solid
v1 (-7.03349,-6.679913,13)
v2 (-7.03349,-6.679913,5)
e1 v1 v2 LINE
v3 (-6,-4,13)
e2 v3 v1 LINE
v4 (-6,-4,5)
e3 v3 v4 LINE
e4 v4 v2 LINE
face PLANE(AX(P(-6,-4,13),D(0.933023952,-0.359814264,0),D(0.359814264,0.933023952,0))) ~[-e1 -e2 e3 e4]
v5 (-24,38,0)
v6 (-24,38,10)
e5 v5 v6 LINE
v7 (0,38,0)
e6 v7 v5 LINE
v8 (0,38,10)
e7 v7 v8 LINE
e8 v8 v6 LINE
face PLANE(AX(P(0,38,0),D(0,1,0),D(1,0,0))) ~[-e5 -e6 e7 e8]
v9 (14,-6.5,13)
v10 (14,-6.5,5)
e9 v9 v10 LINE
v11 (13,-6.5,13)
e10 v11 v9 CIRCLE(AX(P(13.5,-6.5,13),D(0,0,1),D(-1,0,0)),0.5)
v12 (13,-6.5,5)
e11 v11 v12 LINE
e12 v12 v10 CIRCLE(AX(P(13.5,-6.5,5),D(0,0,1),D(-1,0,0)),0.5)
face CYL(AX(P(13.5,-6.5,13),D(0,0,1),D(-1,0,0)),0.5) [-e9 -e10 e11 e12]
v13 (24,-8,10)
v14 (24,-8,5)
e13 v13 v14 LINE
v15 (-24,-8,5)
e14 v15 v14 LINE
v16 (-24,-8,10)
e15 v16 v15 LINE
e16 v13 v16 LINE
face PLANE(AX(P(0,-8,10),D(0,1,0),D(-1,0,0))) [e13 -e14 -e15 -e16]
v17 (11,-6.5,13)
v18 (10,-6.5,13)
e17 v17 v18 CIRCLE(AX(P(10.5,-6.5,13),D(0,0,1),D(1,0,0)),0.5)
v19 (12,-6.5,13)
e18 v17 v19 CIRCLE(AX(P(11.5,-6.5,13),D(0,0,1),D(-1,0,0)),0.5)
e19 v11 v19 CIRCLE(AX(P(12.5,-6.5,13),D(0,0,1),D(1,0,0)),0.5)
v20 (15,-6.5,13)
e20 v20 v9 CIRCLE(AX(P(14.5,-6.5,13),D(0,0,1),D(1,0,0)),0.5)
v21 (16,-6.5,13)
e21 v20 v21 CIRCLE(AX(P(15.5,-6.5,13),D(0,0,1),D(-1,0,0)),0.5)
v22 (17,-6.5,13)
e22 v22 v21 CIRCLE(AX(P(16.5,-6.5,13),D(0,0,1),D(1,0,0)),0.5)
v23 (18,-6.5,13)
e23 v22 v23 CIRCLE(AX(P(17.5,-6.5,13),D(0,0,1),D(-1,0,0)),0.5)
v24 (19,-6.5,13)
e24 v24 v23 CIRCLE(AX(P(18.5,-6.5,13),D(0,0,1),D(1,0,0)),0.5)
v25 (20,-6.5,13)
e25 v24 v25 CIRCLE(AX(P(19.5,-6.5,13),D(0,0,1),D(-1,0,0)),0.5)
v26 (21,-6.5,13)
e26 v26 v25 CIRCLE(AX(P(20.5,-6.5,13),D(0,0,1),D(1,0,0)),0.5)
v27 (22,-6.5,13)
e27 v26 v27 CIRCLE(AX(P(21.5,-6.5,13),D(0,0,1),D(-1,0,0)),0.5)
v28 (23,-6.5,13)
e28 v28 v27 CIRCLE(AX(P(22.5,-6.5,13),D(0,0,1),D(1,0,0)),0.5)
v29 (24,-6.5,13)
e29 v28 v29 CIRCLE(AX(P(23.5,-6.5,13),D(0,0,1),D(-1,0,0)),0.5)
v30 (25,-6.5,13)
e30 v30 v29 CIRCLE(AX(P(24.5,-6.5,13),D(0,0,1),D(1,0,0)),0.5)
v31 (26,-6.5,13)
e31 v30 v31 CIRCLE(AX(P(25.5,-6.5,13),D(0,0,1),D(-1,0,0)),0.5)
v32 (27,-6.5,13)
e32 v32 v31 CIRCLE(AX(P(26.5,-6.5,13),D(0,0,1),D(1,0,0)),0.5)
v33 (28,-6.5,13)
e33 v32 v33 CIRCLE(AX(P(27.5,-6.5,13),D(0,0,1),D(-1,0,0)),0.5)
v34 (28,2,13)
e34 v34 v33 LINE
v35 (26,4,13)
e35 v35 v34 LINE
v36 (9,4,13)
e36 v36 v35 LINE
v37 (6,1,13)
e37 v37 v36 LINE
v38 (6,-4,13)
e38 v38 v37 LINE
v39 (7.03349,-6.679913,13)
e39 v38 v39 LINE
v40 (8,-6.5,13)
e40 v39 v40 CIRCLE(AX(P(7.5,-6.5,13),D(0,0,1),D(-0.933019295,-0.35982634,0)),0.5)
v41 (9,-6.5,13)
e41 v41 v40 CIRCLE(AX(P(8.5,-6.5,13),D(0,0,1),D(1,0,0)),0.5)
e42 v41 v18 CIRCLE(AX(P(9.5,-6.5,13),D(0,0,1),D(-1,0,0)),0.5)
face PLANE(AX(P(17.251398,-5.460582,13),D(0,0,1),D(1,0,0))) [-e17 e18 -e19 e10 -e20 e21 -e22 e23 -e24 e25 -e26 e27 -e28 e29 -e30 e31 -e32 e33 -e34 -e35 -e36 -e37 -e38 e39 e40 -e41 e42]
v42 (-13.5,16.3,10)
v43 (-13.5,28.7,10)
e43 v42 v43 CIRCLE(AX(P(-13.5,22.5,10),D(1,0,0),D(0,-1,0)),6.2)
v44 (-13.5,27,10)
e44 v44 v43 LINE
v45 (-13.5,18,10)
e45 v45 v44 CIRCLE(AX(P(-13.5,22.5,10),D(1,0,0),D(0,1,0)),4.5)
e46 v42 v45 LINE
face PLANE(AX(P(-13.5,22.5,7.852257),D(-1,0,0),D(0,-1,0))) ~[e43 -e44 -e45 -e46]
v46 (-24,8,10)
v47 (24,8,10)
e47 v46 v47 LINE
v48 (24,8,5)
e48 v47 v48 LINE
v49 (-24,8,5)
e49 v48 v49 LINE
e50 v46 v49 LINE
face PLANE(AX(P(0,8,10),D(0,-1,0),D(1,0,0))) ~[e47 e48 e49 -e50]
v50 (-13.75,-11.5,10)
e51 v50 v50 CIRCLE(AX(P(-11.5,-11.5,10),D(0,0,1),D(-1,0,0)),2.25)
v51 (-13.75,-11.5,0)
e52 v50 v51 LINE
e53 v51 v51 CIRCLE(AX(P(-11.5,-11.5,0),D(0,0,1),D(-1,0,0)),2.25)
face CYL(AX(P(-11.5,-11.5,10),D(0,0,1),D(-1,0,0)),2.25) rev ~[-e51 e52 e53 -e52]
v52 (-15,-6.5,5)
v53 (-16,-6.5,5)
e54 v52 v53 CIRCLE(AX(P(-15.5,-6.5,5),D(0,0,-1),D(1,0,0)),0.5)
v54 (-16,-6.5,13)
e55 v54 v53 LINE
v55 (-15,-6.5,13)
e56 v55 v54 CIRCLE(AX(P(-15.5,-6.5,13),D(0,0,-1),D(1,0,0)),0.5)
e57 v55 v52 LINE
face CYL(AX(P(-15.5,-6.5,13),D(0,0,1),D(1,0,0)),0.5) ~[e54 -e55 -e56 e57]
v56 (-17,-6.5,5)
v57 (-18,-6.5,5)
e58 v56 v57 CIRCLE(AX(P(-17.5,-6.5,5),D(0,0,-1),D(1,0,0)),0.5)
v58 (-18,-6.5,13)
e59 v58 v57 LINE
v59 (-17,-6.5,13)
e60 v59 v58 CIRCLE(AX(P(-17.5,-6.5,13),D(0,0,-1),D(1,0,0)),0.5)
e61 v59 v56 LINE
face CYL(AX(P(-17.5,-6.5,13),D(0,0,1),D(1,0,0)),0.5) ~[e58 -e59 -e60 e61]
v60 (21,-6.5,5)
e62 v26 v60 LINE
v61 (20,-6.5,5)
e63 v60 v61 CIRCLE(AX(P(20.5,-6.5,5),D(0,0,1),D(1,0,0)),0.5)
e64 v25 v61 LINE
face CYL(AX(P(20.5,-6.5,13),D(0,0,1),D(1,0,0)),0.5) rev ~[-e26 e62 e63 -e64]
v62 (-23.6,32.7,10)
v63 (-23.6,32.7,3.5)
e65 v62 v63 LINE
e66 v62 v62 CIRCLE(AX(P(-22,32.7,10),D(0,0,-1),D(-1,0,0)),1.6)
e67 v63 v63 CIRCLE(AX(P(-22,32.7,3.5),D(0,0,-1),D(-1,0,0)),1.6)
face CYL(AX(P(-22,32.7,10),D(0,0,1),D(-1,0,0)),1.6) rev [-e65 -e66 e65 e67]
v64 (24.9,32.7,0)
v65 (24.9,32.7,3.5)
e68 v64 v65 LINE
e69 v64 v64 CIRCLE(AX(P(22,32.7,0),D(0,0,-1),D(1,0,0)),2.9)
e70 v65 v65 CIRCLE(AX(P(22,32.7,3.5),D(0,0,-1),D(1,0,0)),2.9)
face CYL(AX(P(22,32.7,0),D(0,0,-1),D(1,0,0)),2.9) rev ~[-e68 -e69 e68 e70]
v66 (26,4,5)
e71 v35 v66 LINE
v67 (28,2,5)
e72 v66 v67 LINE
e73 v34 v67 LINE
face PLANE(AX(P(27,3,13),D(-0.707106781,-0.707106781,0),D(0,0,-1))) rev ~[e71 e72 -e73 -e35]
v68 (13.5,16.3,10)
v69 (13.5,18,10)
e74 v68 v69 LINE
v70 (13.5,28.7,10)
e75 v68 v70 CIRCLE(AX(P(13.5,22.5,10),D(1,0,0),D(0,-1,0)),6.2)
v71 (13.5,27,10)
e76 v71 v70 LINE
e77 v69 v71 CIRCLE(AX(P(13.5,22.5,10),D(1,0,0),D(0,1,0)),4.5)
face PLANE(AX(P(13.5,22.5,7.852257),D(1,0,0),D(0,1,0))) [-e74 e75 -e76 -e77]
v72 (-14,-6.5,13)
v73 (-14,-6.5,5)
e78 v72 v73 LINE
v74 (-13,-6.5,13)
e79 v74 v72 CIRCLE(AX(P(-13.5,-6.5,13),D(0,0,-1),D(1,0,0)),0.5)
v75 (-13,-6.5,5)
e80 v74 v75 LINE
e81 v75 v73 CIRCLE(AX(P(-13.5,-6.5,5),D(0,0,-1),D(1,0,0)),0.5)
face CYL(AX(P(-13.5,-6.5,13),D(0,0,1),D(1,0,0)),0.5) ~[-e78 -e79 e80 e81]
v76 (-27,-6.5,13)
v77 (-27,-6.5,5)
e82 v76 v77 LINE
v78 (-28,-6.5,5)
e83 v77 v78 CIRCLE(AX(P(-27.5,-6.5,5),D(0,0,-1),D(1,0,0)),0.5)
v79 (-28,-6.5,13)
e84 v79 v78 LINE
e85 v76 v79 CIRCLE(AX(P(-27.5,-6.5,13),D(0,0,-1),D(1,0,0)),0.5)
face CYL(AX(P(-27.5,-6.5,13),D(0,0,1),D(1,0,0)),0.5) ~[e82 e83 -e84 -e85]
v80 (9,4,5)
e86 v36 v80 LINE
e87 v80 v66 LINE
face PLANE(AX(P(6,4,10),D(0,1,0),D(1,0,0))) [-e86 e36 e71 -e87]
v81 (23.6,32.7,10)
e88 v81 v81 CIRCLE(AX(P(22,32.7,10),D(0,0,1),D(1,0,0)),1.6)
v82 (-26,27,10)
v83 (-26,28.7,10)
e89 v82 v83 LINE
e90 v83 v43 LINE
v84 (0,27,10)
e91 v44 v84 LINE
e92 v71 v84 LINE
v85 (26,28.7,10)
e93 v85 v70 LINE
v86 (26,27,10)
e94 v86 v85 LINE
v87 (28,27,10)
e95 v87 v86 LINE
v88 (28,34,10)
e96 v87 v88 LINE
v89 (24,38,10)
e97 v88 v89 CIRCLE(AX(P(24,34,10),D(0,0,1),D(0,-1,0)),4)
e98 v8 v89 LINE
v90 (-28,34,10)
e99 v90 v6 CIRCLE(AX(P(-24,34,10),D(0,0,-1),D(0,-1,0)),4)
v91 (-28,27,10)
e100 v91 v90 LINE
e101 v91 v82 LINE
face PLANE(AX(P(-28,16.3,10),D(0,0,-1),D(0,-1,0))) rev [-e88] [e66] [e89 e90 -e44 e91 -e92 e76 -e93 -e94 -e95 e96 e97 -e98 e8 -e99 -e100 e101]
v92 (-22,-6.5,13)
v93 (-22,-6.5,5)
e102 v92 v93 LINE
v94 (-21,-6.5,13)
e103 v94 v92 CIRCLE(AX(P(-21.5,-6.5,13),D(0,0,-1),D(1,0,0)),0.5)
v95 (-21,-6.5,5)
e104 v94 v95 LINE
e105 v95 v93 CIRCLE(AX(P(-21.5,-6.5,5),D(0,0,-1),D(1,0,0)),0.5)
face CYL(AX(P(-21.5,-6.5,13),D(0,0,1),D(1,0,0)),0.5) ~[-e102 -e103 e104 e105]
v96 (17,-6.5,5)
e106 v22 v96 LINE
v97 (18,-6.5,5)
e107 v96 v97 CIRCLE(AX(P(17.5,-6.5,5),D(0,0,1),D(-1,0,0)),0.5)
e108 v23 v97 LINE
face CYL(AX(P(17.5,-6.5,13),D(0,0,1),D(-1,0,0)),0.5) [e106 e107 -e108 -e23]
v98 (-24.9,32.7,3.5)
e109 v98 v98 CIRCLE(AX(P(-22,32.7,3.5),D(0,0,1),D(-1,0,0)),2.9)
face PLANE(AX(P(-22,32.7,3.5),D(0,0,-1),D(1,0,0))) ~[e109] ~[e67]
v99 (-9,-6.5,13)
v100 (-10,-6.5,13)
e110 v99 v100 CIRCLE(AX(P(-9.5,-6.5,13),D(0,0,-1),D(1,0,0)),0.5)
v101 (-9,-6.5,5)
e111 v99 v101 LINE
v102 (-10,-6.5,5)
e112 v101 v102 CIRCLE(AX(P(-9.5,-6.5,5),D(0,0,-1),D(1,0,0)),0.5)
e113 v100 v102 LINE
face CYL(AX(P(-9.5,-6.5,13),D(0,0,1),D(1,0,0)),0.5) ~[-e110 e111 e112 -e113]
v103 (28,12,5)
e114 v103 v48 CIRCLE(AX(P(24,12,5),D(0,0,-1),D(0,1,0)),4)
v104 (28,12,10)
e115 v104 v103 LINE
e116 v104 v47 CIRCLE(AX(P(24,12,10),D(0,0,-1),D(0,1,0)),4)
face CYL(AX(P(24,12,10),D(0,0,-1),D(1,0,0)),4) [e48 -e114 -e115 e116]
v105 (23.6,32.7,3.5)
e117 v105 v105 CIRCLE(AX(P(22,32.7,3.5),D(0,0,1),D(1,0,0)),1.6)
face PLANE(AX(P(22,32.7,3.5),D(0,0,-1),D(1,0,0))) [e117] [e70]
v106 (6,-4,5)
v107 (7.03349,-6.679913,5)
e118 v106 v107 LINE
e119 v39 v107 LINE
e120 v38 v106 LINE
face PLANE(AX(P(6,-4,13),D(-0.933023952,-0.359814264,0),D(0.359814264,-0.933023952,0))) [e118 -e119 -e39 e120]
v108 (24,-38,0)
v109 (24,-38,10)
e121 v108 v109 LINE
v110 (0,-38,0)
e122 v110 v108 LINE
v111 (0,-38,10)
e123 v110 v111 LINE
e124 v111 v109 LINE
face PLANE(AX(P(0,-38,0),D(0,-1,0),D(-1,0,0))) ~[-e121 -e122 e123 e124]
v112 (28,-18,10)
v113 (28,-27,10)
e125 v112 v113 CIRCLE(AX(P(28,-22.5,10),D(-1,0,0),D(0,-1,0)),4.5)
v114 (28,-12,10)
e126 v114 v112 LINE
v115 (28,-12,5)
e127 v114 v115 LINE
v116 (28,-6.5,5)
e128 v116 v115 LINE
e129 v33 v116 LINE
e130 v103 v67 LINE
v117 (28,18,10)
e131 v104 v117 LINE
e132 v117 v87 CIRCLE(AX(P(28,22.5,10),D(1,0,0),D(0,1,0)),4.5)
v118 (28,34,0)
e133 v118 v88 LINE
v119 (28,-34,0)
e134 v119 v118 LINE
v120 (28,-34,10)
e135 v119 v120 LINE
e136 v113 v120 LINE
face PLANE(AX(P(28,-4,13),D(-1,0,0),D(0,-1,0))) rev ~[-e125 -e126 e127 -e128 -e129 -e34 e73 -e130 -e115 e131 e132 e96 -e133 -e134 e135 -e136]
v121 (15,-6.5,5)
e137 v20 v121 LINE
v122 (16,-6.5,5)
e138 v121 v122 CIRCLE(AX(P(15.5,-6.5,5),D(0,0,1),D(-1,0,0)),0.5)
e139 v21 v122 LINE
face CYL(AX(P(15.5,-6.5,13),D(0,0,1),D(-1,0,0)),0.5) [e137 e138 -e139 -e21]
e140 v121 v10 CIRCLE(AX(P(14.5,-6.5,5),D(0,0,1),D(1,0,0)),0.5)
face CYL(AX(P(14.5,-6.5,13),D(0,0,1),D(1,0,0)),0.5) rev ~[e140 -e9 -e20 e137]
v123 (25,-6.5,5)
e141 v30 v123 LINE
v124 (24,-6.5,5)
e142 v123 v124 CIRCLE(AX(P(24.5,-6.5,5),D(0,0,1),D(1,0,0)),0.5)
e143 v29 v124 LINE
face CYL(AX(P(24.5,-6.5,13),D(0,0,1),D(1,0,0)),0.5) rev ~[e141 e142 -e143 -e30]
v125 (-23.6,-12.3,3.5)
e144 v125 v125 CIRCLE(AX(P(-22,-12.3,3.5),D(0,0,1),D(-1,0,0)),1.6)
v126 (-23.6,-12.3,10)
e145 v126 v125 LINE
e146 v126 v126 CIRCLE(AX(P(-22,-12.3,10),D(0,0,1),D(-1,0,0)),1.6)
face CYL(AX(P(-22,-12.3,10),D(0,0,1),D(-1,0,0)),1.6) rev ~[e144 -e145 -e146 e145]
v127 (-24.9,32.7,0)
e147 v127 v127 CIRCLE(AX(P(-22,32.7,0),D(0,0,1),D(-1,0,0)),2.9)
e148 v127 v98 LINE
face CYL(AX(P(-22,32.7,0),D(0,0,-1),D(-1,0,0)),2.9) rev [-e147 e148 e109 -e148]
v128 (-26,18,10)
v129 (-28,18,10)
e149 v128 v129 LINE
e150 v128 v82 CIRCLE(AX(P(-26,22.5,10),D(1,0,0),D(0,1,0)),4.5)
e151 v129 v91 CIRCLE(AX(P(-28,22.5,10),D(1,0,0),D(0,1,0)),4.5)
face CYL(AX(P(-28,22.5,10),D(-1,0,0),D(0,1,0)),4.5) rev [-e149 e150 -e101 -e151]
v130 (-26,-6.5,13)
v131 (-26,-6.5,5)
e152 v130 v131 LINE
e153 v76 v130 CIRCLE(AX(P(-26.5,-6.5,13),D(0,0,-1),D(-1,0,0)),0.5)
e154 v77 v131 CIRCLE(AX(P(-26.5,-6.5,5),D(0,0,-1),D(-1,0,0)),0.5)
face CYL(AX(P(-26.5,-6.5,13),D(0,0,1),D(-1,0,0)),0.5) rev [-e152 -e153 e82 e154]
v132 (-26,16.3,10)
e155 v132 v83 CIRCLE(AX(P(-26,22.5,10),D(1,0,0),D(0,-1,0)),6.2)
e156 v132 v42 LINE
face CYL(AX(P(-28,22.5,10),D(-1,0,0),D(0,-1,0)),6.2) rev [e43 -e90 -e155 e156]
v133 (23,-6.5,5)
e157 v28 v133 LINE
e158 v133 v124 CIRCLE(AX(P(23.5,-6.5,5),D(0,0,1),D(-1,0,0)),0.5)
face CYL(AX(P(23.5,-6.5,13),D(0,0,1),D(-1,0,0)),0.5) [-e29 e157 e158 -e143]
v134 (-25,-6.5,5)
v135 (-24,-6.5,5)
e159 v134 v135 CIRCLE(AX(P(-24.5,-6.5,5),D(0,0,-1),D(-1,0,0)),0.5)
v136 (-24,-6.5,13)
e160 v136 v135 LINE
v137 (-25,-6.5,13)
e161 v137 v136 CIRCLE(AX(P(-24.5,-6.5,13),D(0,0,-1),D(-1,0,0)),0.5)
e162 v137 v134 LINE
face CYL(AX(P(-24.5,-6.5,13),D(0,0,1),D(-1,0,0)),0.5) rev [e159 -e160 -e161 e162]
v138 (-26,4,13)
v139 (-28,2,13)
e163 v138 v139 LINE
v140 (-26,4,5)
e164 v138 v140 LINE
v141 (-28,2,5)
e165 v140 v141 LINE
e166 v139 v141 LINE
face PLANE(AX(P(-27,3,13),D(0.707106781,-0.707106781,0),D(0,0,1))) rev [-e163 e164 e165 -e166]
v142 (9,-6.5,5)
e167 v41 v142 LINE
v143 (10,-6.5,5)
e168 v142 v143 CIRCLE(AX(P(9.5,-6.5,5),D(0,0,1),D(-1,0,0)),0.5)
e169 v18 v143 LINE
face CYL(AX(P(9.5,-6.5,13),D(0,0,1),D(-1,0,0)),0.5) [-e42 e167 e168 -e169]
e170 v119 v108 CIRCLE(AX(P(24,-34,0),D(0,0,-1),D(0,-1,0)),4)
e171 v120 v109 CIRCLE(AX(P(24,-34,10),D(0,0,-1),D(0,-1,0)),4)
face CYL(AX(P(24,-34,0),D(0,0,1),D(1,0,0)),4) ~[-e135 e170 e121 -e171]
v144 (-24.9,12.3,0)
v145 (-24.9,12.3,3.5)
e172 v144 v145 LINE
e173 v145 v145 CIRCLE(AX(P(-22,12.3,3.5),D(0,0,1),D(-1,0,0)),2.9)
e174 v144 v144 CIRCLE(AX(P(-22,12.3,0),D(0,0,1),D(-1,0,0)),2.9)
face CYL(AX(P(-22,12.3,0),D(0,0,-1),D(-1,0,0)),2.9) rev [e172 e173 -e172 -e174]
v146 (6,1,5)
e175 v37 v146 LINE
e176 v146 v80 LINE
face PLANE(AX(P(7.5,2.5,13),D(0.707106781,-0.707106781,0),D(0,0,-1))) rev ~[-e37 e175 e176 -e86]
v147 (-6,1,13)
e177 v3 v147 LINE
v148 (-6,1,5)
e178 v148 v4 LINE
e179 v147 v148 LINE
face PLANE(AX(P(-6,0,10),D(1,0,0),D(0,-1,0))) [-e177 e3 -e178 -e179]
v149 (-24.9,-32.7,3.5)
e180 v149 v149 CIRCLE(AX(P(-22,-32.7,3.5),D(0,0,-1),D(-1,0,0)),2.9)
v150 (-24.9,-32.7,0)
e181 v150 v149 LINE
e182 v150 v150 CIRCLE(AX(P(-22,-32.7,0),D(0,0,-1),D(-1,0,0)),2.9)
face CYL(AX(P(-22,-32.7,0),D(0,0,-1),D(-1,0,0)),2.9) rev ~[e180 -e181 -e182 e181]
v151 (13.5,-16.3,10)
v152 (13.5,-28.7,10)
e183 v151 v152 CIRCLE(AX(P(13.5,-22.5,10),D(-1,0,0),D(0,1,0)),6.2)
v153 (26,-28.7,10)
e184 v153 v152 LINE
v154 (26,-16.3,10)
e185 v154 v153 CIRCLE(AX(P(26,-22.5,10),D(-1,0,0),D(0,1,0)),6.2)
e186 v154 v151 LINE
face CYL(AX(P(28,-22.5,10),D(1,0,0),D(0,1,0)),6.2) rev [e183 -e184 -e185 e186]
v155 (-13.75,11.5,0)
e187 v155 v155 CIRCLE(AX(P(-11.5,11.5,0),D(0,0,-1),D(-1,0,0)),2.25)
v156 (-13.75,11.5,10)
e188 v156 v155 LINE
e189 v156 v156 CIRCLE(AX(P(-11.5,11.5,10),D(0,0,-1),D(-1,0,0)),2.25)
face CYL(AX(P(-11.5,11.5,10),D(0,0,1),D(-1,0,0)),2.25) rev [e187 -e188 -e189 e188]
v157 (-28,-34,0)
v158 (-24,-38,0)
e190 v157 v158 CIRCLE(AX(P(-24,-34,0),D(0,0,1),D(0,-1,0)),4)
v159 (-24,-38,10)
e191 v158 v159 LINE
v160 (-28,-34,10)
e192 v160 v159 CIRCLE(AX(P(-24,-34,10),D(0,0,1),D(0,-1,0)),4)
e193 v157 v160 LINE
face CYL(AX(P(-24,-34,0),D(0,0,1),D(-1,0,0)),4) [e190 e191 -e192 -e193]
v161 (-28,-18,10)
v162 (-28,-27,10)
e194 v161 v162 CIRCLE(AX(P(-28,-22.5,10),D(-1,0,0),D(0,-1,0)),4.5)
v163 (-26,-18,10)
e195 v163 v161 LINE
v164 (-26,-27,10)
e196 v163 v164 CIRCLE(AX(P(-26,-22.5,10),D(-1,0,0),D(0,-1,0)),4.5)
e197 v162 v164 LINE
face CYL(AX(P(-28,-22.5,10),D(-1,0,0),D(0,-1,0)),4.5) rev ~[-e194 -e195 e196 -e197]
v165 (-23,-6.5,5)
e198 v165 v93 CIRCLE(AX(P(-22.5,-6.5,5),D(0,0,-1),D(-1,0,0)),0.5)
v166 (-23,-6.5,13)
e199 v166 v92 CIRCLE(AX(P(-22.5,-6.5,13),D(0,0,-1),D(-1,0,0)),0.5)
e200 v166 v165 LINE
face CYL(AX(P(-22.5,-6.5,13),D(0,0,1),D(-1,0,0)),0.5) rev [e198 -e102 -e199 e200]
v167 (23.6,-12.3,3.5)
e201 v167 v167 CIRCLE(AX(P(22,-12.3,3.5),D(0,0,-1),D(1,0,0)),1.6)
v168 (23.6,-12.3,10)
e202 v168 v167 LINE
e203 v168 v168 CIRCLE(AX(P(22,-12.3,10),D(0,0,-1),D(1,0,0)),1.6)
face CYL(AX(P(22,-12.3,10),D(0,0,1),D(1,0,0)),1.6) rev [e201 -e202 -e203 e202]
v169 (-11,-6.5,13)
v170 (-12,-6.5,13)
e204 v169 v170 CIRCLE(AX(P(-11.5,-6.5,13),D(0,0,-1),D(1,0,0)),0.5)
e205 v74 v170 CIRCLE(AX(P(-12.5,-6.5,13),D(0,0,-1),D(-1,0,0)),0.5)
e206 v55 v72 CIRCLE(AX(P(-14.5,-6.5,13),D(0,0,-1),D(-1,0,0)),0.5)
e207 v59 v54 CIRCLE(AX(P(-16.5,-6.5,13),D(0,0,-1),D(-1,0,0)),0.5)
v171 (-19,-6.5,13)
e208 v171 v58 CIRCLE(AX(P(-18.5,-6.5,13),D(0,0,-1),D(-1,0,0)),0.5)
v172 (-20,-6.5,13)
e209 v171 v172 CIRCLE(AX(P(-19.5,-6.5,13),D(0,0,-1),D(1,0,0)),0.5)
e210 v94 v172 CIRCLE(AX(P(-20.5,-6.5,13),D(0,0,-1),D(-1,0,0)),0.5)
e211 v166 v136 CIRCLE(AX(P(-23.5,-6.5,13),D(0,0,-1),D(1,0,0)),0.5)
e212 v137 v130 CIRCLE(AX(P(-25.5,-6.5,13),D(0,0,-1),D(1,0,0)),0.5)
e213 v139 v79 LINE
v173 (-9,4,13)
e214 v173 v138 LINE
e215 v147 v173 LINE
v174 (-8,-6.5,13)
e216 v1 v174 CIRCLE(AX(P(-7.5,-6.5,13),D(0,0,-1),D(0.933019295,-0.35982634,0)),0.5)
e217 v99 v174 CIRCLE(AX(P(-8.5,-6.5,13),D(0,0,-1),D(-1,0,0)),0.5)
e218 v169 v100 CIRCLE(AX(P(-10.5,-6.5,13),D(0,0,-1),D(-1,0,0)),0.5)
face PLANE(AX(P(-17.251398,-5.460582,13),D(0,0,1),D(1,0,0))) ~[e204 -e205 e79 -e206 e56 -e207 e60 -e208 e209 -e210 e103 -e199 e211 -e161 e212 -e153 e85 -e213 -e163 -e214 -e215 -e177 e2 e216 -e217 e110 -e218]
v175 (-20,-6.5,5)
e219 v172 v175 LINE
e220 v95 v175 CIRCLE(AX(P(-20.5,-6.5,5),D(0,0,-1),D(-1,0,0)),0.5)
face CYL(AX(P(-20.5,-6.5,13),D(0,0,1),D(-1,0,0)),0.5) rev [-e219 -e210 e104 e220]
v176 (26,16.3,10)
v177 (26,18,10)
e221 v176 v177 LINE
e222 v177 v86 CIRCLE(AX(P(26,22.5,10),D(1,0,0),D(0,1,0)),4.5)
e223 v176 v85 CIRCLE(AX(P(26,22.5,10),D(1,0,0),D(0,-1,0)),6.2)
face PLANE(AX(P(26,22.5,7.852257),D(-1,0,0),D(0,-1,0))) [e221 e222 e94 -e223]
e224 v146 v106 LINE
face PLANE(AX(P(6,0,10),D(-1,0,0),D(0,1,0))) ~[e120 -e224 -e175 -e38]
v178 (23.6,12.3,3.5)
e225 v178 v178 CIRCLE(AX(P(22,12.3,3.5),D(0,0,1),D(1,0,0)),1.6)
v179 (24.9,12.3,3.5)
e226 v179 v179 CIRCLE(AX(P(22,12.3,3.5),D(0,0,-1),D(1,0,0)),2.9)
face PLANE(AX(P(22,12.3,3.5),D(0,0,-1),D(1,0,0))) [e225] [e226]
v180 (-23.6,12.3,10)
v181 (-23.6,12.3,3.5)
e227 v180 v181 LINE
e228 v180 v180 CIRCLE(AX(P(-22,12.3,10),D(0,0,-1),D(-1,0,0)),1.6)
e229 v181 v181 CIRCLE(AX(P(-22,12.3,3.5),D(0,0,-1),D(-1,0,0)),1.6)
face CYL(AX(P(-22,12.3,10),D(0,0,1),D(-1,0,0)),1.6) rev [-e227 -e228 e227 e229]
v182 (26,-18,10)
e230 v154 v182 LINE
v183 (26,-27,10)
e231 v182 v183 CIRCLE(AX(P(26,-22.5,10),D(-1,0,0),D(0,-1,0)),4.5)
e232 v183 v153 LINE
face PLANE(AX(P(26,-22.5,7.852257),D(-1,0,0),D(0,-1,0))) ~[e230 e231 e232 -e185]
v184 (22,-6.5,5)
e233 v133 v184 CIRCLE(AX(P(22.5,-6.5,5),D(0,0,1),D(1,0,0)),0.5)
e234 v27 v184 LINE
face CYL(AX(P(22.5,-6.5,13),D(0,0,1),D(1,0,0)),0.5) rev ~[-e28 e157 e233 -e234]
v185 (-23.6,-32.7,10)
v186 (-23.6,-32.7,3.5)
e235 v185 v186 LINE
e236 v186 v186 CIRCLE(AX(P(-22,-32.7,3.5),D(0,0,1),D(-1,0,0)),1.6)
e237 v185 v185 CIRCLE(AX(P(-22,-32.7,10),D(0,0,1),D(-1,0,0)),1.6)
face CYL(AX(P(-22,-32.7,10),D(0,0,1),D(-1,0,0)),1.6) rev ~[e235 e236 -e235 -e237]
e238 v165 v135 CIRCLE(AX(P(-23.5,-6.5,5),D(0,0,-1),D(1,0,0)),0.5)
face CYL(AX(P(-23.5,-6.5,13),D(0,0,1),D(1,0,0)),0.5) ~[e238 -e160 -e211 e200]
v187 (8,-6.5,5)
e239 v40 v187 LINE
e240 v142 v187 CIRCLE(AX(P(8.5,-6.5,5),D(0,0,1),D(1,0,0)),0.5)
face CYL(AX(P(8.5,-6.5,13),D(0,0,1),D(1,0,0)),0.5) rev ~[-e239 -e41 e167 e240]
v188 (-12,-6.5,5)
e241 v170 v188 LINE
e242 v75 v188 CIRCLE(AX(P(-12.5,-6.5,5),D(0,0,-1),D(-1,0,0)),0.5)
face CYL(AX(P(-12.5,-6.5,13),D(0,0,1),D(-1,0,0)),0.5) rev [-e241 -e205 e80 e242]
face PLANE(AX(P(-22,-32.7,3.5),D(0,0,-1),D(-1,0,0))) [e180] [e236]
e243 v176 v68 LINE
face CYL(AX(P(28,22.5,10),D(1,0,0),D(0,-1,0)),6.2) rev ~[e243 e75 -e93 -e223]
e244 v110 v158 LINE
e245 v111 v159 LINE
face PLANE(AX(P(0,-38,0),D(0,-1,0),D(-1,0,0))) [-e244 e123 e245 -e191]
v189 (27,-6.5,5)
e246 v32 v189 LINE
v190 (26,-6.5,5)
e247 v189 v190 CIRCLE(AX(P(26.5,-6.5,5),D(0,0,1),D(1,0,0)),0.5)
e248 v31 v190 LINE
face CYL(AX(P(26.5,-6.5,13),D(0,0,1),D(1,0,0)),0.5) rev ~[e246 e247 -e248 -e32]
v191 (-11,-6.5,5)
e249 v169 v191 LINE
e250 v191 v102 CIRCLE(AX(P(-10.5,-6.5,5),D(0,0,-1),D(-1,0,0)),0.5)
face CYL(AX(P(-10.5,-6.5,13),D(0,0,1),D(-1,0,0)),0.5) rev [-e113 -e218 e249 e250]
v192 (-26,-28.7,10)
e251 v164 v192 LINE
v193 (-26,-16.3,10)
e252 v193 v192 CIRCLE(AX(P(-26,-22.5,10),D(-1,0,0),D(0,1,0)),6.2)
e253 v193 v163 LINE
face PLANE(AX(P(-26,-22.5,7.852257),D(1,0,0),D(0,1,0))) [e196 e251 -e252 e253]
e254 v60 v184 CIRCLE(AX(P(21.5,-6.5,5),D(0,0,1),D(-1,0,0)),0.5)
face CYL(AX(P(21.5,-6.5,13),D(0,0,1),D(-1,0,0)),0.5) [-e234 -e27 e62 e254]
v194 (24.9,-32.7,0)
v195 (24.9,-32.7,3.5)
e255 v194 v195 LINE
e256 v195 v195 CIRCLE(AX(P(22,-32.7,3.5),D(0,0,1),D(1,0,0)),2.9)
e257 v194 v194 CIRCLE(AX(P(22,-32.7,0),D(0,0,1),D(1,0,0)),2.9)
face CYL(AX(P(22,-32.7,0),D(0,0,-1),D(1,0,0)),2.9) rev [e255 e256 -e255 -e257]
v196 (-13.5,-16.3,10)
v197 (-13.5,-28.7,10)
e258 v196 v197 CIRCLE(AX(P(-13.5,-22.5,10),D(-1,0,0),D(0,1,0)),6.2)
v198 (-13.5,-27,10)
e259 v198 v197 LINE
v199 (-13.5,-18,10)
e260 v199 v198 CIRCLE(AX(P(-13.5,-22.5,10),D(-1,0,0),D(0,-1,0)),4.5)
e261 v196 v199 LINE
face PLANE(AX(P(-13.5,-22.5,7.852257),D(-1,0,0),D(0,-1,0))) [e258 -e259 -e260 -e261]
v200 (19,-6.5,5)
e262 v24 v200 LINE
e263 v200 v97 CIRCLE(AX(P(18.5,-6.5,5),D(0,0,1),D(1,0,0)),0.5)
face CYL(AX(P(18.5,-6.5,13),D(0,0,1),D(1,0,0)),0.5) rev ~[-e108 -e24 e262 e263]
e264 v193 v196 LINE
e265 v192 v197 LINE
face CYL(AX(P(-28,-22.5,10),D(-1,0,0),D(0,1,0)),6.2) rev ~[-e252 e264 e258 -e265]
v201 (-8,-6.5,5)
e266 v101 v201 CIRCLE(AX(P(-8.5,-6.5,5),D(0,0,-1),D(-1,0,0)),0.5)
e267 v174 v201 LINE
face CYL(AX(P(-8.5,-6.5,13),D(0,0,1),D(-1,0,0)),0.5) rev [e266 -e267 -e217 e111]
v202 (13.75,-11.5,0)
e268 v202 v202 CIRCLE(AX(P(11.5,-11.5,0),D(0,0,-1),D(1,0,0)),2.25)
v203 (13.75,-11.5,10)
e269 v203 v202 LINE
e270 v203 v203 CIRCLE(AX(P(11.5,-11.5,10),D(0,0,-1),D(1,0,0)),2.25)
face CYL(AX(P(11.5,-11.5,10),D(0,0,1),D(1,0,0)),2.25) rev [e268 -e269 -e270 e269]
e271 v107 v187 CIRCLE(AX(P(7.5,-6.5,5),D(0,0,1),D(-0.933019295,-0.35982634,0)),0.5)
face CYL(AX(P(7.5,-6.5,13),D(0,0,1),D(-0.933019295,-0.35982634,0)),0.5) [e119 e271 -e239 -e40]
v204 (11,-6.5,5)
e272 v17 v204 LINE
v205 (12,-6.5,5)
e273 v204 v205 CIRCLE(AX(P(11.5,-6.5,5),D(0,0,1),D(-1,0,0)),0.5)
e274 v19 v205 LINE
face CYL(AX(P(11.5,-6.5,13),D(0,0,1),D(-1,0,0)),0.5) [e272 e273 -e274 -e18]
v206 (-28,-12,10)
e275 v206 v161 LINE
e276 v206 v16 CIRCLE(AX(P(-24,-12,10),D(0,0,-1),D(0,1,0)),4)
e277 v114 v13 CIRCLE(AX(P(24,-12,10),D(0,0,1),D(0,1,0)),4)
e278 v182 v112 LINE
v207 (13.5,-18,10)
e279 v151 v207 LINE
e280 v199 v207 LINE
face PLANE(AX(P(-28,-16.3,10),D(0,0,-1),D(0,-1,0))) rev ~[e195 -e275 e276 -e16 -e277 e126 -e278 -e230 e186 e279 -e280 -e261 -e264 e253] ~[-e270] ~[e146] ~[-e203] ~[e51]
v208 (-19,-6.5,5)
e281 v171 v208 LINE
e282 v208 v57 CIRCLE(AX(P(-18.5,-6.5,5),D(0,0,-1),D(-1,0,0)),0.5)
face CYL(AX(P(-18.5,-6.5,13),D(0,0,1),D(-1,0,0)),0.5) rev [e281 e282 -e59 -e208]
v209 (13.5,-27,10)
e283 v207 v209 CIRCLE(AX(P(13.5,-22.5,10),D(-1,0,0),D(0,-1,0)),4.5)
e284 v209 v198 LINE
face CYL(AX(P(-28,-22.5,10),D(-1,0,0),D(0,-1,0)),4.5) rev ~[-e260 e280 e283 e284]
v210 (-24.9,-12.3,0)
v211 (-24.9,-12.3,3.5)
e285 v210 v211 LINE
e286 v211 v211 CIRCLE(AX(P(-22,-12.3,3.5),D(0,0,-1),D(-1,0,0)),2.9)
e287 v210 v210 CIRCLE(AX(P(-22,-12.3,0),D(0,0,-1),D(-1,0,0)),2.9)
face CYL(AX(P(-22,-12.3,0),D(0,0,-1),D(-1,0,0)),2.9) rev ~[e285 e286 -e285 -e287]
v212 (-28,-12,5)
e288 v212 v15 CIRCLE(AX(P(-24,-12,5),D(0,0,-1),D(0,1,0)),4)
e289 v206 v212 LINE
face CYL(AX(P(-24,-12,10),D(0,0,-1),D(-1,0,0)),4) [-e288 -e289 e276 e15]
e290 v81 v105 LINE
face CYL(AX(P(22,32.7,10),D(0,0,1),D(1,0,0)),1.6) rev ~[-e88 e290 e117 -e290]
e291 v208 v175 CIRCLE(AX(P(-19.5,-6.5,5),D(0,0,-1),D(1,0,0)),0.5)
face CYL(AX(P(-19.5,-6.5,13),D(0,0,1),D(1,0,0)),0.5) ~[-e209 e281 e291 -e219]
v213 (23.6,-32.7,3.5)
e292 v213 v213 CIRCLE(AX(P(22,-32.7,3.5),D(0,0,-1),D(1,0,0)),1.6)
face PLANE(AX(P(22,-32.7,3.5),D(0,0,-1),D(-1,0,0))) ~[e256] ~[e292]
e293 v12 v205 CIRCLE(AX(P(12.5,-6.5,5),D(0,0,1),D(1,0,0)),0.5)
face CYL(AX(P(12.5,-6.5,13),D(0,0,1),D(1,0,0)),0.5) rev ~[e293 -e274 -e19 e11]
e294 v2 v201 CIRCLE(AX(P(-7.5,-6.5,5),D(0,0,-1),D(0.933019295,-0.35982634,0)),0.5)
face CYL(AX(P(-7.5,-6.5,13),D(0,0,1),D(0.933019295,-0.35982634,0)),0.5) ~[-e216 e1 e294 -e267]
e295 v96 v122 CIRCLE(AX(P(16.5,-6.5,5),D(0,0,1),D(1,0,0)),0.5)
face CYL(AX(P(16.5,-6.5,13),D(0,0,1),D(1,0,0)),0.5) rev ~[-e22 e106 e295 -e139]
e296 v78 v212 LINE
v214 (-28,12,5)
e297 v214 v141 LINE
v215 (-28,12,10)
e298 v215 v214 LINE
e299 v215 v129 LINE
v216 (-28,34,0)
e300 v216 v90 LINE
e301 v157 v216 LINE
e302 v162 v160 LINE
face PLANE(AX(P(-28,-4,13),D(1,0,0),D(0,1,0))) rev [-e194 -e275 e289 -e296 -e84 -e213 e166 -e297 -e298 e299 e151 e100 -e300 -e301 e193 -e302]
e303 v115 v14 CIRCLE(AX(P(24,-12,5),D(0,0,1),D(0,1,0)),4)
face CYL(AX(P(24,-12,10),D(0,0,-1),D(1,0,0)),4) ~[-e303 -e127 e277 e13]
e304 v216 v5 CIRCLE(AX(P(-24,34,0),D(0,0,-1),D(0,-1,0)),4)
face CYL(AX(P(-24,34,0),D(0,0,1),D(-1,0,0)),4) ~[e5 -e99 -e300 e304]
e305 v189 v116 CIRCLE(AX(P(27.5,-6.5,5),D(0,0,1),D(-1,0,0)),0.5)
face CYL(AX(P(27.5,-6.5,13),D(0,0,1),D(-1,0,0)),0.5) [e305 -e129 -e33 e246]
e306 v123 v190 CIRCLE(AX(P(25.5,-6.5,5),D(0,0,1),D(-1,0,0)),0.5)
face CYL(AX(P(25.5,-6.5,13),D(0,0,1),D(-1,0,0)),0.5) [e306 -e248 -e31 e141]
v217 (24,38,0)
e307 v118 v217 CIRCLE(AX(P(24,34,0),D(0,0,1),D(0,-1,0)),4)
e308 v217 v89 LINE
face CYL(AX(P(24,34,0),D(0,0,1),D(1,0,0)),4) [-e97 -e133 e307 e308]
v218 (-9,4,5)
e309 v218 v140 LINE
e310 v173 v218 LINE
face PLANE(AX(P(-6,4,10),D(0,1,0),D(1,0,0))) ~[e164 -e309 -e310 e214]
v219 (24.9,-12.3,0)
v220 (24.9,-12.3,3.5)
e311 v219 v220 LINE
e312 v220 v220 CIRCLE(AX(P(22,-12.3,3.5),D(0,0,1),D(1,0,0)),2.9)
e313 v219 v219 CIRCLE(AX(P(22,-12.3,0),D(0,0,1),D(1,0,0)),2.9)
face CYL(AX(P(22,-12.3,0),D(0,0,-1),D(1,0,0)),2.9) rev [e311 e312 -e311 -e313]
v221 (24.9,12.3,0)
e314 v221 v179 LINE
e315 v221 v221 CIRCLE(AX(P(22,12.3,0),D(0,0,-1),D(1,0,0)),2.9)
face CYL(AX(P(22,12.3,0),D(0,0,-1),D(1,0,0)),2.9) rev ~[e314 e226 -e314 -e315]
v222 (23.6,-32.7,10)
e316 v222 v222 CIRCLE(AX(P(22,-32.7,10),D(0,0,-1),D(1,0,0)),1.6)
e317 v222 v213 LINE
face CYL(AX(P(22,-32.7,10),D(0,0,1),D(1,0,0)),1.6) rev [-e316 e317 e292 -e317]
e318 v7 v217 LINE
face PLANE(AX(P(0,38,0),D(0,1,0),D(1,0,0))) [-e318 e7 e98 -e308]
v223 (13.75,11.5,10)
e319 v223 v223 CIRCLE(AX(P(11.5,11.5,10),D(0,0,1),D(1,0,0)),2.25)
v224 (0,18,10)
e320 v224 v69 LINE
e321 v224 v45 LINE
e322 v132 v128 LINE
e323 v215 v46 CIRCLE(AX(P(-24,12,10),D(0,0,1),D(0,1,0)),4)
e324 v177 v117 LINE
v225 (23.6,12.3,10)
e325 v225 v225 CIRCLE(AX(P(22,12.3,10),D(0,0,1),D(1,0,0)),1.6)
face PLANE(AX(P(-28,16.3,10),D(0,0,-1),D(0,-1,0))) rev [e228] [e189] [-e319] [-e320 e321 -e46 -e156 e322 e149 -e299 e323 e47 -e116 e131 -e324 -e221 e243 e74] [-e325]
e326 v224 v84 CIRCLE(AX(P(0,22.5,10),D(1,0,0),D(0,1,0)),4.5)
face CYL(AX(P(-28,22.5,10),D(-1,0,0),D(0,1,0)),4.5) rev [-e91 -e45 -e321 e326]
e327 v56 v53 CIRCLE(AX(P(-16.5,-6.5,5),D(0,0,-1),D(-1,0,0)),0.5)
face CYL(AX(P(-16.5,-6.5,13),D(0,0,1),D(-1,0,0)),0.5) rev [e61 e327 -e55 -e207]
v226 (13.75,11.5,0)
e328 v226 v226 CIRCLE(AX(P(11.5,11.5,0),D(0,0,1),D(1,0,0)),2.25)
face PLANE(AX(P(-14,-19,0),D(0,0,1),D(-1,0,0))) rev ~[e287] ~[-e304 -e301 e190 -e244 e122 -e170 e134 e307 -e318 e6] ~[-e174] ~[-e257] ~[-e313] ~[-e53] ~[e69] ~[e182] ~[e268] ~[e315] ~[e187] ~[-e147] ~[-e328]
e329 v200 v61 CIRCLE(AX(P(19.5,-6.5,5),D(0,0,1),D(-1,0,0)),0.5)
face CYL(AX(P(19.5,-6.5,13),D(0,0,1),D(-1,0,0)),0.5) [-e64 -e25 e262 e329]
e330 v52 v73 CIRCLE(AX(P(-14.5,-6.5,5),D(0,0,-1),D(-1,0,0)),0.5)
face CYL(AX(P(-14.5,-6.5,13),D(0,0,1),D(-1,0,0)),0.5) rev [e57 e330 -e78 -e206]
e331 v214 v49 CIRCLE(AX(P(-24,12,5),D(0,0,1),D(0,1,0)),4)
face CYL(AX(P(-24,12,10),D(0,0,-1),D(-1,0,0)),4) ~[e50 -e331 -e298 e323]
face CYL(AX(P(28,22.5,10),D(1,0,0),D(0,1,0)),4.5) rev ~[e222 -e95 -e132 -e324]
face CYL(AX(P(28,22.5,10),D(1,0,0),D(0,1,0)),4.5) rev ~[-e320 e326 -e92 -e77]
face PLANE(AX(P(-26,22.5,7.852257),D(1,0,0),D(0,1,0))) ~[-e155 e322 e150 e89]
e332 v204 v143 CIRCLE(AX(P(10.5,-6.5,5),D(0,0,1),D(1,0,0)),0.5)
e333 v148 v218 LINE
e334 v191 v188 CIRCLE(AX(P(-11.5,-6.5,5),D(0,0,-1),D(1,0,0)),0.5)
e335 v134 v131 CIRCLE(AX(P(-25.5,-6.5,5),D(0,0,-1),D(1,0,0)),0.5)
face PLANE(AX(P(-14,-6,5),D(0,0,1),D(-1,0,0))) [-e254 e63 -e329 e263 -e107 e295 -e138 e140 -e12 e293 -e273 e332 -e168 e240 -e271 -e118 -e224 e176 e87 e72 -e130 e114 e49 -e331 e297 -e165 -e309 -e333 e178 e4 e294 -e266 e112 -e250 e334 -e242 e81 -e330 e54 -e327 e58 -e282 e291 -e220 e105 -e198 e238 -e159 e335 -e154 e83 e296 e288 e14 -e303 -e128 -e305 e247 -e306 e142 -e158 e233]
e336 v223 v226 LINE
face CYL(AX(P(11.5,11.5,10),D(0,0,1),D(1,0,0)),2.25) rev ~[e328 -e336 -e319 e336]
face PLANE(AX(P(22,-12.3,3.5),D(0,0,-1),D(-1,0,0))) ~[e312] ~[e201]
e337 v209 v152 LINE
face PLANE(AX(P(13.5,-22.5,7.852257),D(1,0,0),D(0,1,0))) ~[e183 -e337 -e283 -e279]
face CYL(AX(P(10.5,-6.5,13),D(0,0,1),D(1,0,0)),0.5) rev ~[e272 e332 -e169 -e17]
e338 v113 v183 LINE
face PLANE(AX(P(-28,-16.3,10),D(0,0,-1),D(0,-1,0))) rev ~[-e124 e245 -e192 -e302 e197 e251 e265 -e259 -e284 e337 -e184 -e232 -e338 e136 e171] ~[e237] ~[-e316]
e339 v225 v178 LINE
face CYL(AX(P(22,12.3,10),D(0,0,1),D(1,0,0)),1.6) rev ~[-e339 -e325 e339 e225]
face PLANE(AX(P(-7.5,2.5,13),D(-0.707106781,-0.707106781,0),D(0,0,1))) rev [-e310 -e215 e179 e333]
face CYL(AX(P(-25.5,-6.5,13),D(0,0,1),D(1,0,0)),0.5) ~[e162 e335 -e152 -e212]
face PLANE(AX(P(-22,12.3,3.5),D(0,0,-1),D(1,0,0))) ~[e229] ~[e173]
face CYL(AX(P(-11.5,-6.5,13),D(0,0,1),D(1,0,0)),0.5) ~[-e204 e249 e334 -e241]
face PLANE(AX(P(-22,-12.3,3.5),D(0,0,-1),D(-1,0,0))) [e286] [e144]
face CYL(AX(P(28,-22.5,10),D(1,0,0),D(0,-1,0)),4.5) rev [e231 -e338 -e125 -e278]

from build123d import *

# Parameters (mm, degrees)
BOX_W           = 28
BOX_H           = 38
BOX_DEPTH       = 10
POCKET_DEPTH    = 14.5
PAD_DEPTH       = 2
SKETCH002_R     = 4.5
POCKET001_DEPTH = 28.001
SKETCH003_R     = 2.25
SKETCH003_R_2   = 1.6
POCKET002_DEPTH = 10.001
SKETCH004_R     = 2.9
POCKET003_DEPTH = 3.5
SKETCH005_W     = 6
SKETCH005_H     = 4
POCKET004_DEPTH = 5
SKETCH006_W     = 28
SKETCH006_H     = 4
POCKET005_DEPTH = 5
SKETCH007_W     = 22
SKETCH007_H     = 4
PAD001_DEPTH    = 3
PAD002_DEPTH    = 8
CHAMFER_SIZE    = 2
CHAMFER001_SIZE = 3
FILLET_R        = 4
FILLET001_R     = 4
FILLET002_R     = 4
FILLET003_R     = 4


with BuildPart() as pad001:
    # Box → Box (new body)
    with BuildSketch(Plane.XY):
        with Locations((14, 19)):
            Rectangle(BOX_W, BOX_H)
    extrude(amount=BOX_DEPTH)

    # Sketch → Pocket (cut)
    with BuildSketch(Plane.YZ.offset(28)):
        with BuildLine():
            ThreePointArc((16.3, 10), (22.5, 3.8), (28.7, 10))
            Line((16.3, 10), (28.7, 10))
        make_face()
    extrude(amount=-POCKET_DEPTH, mode=Mode.SUBTRACT)

    # Sketch001 → Pad (new body)
    with BuildSketch(Plane.YZ.offset(28)):
        with BuildLine():
            Line((16.3, 10), (28.7, 10))
            ThreePointArc((16.3, 10), (22.5, 3.8), (28.7, 10))
        make_face()
    extrude(amount=-PAD_DEPTH)

    # Sketch002 → Pocket001 (cut, through all)
    with BuildSketch(Plane.YZ.offset(28)):
        with Locations((22.5, 10)):
            Circle(SKETCH002_R)
    extrude(amount=-POCKET001_DEPTH, mode=Mode.SUBTRACT)

    # Sketch003 → Pocket002 (cut, through all)
    with BuildSketch(Plane.XY.offset(10)):
        with Locations((11.5, 11.5)):
            Circle(SKETCH003_R)
        with Locations((22, 12.3)):
            Circle(SKETCH003_R_2)
        with Locations((22, 32.7)):
            Circle(SKETCH003_R_2)
    extrude(amount=-POCKET002_DEPTH, mode=Mode.SUBTRACT)

    # Sketch004 → Pocket003 (cut)
    with BuildSketch(Plane(origin=(0, 0, 0), x_dir=(1, 0, 0), z_dir=(0, 0, -1))):
        with Locations((22, -32.7)):
            Circle(SKETCH004_R)
        with Locations((22, -12.3)):
            Circle(SKETCH004_R)
    extrude(amount=-POCKET003_DEPTH, mode=Mode.SUBTRACT)

    # Sketch005 → Pocket004 (cut)
    with BuildSketch(Plane.XY.offset(10)):
        with Locations((3, 2)):
            Rectangle(SKETCH005_W, SKETCH005_H)
    extrude(amount=-POCKET004_DEPTH, mode=Mode.SUBTRACT)

    # Sketch006 → Pocket005 (cut)
    with BuildSketch(Plane.XY.offset(10)):
        with Locations((14, 6)):
            Rectangle(SKETCH006_W, SKETCH006_H)
    extrude(amount=-POCKET005_DEPTH, mode=Mode.SUBTRACT)

    # Sketch007 → Pad001 (new body)
    with BuildSketch(Plane.XY.offset(10)):
        with Locations((17, 2)):
            Rectangle(SKETCH007_W, SKETCH007_H)
    extrude(amount=PAD001_DEPTH)


with BuildPart() as part_mirroring:
    # Part__Mirroring: instance of Pad001
    add(pad001.part.mirror(Plane(origin=(0, 0, 0), x_dir=(1, 0, 0), z_dir=(0, 1, 0))))


with BuildPart() as fillet003:
    # Fusion base: copy of Pad001
    add(pad001.part)

    # Fusion: union Part__Mirroring
    add(part_mirroring.part)

    # Sketch008 → Pad002 (new body)
    with BuildSketch(Plane.XY.offset(13)):
        with BuildLine():
            ThreePointArc((27, -6.5), (27.5, -7), (28, -6.5))
            Line((28, -4), (28, -6.5))
            Line((6, -4), (28, -4))
            Line((6, -4), (7.03349, -6.679913))
            ThreePointArc((7.03349, -6.679913), (7.591502, -6.991556), (8, -6.5))
            ThreePointArc((9, -6.5), (8.5, -6), (8, -6.5))
            ThreePointArc((9, -6.5), (9.5, -7), (10, -6.5))
            ThreePointArc((11, -6.5), (10.5, -6), (10, -6.5))
            ThreePointArc((11, -6.5), (11.5, -7), (12, -6.5))
            ThreePointArc((13, -6.5), (12.5, -6), (12, -6.5))
            ThreePointArc((13, -6.5), (13.5, -7), (14, -6.5))
            ThreePointArc((15, -6.5), (14.5, -6), (14, -6.5))
            ThreePointArc((15, -6.5), (15.5, -7), (16, -6.5))
            ThreePointArc((17, -6.5), (16.5, -6), (16, -6.5))
            ThreePointArc((17, -6.5), (17.5, -7), (18, -6.5))
            ThreePointArc((19, -6.5), (18.5, -6), (18, -6.5))
            ThreePointArc((19, -6.5), (19.5, -7), (20, -6.5))
            ThreePointArc((21, -6.5), (20.5, -6), (20, -6.5))
            ThreePointArc((21, -6.5), (21.5, -7), (22, -6.5))
            ThreePointArc((23, -6.5), (22.5, -6), (22, -6.5))
            ThreePointArc((23, -6.5), (23.5, -7), (24, -6.5))
            ThreePointArc((25, -6.5), (24.5, -6), (24, -6.5))
            ThreePointArc((25, -6.5), (25.5, -7), (26, -6.5))
            ThreePointArc((27, -6.5), (26.5, -6), (26, -6.5))
        make_face()
    extrude(amount=-PAD002_DEPTH)

    # Chamfer
    chamfer_edges = [fillet003.edges().sort_by_distance(p)[0] for p in [
        (28, 4, 7.5),
    ]]
    chamfer(chamfer_edges, length=CHAMFER_SIZE)

    # Chamfer001
    chamfer001_edges = [fillet003.edges().sort_by_distance(p)[0] for p in [
        (6, 4, 7.5),
    ]]
    chamfer(chamfer001_edges, length=CHAMFER001_SIZE)

    # Fillet
    fillet_edges = [fillet003.edges().sort_by_distance(p)[0] for p in [
        (28, 38, 5),
    ]]
    fillet(fillet_edges, radius=FILLET_R)

    # Fillet001
    fillet001_edges = [fillet003.edges().sort_by_distance(p)[0] for p in [
        (28, 8, 7.5),
    ]]
    fillet(fillet001_edges, radius=FILLET001_R)

    # Fillet002
    fillet002_edges = [fillet003.edges().sort_by_distance(p)[0] for p in [
        (28, -38, 5),
    ]]
    fillet(fillet002_edges, radius=FILLET002_R)

    # Fillet003
    fillet003_edges = [fillet003.edges().sort_by_distance(p)[0] for p in [
        (28, -8, 7.5),
    ]]
    fillet(fillet003_edges, radius=FILLET003_R)


with BuildPart() as part_mirroring001:
    # Part__Mirroring001: instance of Fillet003
    add(fillet003.part.mirror(Plane(origin=(0, 0, 0), x_dir=(0, -1, 0), z_dir=(1, 0, 0))))


with BuildPart() as fusion001:
    # Fusion001 base: copy of Fillet003
    add(fillet003.part)

    # Fusion001: union Part__Mirroring001
    add(part_mirroring001.part)


solid = fusion001.part
